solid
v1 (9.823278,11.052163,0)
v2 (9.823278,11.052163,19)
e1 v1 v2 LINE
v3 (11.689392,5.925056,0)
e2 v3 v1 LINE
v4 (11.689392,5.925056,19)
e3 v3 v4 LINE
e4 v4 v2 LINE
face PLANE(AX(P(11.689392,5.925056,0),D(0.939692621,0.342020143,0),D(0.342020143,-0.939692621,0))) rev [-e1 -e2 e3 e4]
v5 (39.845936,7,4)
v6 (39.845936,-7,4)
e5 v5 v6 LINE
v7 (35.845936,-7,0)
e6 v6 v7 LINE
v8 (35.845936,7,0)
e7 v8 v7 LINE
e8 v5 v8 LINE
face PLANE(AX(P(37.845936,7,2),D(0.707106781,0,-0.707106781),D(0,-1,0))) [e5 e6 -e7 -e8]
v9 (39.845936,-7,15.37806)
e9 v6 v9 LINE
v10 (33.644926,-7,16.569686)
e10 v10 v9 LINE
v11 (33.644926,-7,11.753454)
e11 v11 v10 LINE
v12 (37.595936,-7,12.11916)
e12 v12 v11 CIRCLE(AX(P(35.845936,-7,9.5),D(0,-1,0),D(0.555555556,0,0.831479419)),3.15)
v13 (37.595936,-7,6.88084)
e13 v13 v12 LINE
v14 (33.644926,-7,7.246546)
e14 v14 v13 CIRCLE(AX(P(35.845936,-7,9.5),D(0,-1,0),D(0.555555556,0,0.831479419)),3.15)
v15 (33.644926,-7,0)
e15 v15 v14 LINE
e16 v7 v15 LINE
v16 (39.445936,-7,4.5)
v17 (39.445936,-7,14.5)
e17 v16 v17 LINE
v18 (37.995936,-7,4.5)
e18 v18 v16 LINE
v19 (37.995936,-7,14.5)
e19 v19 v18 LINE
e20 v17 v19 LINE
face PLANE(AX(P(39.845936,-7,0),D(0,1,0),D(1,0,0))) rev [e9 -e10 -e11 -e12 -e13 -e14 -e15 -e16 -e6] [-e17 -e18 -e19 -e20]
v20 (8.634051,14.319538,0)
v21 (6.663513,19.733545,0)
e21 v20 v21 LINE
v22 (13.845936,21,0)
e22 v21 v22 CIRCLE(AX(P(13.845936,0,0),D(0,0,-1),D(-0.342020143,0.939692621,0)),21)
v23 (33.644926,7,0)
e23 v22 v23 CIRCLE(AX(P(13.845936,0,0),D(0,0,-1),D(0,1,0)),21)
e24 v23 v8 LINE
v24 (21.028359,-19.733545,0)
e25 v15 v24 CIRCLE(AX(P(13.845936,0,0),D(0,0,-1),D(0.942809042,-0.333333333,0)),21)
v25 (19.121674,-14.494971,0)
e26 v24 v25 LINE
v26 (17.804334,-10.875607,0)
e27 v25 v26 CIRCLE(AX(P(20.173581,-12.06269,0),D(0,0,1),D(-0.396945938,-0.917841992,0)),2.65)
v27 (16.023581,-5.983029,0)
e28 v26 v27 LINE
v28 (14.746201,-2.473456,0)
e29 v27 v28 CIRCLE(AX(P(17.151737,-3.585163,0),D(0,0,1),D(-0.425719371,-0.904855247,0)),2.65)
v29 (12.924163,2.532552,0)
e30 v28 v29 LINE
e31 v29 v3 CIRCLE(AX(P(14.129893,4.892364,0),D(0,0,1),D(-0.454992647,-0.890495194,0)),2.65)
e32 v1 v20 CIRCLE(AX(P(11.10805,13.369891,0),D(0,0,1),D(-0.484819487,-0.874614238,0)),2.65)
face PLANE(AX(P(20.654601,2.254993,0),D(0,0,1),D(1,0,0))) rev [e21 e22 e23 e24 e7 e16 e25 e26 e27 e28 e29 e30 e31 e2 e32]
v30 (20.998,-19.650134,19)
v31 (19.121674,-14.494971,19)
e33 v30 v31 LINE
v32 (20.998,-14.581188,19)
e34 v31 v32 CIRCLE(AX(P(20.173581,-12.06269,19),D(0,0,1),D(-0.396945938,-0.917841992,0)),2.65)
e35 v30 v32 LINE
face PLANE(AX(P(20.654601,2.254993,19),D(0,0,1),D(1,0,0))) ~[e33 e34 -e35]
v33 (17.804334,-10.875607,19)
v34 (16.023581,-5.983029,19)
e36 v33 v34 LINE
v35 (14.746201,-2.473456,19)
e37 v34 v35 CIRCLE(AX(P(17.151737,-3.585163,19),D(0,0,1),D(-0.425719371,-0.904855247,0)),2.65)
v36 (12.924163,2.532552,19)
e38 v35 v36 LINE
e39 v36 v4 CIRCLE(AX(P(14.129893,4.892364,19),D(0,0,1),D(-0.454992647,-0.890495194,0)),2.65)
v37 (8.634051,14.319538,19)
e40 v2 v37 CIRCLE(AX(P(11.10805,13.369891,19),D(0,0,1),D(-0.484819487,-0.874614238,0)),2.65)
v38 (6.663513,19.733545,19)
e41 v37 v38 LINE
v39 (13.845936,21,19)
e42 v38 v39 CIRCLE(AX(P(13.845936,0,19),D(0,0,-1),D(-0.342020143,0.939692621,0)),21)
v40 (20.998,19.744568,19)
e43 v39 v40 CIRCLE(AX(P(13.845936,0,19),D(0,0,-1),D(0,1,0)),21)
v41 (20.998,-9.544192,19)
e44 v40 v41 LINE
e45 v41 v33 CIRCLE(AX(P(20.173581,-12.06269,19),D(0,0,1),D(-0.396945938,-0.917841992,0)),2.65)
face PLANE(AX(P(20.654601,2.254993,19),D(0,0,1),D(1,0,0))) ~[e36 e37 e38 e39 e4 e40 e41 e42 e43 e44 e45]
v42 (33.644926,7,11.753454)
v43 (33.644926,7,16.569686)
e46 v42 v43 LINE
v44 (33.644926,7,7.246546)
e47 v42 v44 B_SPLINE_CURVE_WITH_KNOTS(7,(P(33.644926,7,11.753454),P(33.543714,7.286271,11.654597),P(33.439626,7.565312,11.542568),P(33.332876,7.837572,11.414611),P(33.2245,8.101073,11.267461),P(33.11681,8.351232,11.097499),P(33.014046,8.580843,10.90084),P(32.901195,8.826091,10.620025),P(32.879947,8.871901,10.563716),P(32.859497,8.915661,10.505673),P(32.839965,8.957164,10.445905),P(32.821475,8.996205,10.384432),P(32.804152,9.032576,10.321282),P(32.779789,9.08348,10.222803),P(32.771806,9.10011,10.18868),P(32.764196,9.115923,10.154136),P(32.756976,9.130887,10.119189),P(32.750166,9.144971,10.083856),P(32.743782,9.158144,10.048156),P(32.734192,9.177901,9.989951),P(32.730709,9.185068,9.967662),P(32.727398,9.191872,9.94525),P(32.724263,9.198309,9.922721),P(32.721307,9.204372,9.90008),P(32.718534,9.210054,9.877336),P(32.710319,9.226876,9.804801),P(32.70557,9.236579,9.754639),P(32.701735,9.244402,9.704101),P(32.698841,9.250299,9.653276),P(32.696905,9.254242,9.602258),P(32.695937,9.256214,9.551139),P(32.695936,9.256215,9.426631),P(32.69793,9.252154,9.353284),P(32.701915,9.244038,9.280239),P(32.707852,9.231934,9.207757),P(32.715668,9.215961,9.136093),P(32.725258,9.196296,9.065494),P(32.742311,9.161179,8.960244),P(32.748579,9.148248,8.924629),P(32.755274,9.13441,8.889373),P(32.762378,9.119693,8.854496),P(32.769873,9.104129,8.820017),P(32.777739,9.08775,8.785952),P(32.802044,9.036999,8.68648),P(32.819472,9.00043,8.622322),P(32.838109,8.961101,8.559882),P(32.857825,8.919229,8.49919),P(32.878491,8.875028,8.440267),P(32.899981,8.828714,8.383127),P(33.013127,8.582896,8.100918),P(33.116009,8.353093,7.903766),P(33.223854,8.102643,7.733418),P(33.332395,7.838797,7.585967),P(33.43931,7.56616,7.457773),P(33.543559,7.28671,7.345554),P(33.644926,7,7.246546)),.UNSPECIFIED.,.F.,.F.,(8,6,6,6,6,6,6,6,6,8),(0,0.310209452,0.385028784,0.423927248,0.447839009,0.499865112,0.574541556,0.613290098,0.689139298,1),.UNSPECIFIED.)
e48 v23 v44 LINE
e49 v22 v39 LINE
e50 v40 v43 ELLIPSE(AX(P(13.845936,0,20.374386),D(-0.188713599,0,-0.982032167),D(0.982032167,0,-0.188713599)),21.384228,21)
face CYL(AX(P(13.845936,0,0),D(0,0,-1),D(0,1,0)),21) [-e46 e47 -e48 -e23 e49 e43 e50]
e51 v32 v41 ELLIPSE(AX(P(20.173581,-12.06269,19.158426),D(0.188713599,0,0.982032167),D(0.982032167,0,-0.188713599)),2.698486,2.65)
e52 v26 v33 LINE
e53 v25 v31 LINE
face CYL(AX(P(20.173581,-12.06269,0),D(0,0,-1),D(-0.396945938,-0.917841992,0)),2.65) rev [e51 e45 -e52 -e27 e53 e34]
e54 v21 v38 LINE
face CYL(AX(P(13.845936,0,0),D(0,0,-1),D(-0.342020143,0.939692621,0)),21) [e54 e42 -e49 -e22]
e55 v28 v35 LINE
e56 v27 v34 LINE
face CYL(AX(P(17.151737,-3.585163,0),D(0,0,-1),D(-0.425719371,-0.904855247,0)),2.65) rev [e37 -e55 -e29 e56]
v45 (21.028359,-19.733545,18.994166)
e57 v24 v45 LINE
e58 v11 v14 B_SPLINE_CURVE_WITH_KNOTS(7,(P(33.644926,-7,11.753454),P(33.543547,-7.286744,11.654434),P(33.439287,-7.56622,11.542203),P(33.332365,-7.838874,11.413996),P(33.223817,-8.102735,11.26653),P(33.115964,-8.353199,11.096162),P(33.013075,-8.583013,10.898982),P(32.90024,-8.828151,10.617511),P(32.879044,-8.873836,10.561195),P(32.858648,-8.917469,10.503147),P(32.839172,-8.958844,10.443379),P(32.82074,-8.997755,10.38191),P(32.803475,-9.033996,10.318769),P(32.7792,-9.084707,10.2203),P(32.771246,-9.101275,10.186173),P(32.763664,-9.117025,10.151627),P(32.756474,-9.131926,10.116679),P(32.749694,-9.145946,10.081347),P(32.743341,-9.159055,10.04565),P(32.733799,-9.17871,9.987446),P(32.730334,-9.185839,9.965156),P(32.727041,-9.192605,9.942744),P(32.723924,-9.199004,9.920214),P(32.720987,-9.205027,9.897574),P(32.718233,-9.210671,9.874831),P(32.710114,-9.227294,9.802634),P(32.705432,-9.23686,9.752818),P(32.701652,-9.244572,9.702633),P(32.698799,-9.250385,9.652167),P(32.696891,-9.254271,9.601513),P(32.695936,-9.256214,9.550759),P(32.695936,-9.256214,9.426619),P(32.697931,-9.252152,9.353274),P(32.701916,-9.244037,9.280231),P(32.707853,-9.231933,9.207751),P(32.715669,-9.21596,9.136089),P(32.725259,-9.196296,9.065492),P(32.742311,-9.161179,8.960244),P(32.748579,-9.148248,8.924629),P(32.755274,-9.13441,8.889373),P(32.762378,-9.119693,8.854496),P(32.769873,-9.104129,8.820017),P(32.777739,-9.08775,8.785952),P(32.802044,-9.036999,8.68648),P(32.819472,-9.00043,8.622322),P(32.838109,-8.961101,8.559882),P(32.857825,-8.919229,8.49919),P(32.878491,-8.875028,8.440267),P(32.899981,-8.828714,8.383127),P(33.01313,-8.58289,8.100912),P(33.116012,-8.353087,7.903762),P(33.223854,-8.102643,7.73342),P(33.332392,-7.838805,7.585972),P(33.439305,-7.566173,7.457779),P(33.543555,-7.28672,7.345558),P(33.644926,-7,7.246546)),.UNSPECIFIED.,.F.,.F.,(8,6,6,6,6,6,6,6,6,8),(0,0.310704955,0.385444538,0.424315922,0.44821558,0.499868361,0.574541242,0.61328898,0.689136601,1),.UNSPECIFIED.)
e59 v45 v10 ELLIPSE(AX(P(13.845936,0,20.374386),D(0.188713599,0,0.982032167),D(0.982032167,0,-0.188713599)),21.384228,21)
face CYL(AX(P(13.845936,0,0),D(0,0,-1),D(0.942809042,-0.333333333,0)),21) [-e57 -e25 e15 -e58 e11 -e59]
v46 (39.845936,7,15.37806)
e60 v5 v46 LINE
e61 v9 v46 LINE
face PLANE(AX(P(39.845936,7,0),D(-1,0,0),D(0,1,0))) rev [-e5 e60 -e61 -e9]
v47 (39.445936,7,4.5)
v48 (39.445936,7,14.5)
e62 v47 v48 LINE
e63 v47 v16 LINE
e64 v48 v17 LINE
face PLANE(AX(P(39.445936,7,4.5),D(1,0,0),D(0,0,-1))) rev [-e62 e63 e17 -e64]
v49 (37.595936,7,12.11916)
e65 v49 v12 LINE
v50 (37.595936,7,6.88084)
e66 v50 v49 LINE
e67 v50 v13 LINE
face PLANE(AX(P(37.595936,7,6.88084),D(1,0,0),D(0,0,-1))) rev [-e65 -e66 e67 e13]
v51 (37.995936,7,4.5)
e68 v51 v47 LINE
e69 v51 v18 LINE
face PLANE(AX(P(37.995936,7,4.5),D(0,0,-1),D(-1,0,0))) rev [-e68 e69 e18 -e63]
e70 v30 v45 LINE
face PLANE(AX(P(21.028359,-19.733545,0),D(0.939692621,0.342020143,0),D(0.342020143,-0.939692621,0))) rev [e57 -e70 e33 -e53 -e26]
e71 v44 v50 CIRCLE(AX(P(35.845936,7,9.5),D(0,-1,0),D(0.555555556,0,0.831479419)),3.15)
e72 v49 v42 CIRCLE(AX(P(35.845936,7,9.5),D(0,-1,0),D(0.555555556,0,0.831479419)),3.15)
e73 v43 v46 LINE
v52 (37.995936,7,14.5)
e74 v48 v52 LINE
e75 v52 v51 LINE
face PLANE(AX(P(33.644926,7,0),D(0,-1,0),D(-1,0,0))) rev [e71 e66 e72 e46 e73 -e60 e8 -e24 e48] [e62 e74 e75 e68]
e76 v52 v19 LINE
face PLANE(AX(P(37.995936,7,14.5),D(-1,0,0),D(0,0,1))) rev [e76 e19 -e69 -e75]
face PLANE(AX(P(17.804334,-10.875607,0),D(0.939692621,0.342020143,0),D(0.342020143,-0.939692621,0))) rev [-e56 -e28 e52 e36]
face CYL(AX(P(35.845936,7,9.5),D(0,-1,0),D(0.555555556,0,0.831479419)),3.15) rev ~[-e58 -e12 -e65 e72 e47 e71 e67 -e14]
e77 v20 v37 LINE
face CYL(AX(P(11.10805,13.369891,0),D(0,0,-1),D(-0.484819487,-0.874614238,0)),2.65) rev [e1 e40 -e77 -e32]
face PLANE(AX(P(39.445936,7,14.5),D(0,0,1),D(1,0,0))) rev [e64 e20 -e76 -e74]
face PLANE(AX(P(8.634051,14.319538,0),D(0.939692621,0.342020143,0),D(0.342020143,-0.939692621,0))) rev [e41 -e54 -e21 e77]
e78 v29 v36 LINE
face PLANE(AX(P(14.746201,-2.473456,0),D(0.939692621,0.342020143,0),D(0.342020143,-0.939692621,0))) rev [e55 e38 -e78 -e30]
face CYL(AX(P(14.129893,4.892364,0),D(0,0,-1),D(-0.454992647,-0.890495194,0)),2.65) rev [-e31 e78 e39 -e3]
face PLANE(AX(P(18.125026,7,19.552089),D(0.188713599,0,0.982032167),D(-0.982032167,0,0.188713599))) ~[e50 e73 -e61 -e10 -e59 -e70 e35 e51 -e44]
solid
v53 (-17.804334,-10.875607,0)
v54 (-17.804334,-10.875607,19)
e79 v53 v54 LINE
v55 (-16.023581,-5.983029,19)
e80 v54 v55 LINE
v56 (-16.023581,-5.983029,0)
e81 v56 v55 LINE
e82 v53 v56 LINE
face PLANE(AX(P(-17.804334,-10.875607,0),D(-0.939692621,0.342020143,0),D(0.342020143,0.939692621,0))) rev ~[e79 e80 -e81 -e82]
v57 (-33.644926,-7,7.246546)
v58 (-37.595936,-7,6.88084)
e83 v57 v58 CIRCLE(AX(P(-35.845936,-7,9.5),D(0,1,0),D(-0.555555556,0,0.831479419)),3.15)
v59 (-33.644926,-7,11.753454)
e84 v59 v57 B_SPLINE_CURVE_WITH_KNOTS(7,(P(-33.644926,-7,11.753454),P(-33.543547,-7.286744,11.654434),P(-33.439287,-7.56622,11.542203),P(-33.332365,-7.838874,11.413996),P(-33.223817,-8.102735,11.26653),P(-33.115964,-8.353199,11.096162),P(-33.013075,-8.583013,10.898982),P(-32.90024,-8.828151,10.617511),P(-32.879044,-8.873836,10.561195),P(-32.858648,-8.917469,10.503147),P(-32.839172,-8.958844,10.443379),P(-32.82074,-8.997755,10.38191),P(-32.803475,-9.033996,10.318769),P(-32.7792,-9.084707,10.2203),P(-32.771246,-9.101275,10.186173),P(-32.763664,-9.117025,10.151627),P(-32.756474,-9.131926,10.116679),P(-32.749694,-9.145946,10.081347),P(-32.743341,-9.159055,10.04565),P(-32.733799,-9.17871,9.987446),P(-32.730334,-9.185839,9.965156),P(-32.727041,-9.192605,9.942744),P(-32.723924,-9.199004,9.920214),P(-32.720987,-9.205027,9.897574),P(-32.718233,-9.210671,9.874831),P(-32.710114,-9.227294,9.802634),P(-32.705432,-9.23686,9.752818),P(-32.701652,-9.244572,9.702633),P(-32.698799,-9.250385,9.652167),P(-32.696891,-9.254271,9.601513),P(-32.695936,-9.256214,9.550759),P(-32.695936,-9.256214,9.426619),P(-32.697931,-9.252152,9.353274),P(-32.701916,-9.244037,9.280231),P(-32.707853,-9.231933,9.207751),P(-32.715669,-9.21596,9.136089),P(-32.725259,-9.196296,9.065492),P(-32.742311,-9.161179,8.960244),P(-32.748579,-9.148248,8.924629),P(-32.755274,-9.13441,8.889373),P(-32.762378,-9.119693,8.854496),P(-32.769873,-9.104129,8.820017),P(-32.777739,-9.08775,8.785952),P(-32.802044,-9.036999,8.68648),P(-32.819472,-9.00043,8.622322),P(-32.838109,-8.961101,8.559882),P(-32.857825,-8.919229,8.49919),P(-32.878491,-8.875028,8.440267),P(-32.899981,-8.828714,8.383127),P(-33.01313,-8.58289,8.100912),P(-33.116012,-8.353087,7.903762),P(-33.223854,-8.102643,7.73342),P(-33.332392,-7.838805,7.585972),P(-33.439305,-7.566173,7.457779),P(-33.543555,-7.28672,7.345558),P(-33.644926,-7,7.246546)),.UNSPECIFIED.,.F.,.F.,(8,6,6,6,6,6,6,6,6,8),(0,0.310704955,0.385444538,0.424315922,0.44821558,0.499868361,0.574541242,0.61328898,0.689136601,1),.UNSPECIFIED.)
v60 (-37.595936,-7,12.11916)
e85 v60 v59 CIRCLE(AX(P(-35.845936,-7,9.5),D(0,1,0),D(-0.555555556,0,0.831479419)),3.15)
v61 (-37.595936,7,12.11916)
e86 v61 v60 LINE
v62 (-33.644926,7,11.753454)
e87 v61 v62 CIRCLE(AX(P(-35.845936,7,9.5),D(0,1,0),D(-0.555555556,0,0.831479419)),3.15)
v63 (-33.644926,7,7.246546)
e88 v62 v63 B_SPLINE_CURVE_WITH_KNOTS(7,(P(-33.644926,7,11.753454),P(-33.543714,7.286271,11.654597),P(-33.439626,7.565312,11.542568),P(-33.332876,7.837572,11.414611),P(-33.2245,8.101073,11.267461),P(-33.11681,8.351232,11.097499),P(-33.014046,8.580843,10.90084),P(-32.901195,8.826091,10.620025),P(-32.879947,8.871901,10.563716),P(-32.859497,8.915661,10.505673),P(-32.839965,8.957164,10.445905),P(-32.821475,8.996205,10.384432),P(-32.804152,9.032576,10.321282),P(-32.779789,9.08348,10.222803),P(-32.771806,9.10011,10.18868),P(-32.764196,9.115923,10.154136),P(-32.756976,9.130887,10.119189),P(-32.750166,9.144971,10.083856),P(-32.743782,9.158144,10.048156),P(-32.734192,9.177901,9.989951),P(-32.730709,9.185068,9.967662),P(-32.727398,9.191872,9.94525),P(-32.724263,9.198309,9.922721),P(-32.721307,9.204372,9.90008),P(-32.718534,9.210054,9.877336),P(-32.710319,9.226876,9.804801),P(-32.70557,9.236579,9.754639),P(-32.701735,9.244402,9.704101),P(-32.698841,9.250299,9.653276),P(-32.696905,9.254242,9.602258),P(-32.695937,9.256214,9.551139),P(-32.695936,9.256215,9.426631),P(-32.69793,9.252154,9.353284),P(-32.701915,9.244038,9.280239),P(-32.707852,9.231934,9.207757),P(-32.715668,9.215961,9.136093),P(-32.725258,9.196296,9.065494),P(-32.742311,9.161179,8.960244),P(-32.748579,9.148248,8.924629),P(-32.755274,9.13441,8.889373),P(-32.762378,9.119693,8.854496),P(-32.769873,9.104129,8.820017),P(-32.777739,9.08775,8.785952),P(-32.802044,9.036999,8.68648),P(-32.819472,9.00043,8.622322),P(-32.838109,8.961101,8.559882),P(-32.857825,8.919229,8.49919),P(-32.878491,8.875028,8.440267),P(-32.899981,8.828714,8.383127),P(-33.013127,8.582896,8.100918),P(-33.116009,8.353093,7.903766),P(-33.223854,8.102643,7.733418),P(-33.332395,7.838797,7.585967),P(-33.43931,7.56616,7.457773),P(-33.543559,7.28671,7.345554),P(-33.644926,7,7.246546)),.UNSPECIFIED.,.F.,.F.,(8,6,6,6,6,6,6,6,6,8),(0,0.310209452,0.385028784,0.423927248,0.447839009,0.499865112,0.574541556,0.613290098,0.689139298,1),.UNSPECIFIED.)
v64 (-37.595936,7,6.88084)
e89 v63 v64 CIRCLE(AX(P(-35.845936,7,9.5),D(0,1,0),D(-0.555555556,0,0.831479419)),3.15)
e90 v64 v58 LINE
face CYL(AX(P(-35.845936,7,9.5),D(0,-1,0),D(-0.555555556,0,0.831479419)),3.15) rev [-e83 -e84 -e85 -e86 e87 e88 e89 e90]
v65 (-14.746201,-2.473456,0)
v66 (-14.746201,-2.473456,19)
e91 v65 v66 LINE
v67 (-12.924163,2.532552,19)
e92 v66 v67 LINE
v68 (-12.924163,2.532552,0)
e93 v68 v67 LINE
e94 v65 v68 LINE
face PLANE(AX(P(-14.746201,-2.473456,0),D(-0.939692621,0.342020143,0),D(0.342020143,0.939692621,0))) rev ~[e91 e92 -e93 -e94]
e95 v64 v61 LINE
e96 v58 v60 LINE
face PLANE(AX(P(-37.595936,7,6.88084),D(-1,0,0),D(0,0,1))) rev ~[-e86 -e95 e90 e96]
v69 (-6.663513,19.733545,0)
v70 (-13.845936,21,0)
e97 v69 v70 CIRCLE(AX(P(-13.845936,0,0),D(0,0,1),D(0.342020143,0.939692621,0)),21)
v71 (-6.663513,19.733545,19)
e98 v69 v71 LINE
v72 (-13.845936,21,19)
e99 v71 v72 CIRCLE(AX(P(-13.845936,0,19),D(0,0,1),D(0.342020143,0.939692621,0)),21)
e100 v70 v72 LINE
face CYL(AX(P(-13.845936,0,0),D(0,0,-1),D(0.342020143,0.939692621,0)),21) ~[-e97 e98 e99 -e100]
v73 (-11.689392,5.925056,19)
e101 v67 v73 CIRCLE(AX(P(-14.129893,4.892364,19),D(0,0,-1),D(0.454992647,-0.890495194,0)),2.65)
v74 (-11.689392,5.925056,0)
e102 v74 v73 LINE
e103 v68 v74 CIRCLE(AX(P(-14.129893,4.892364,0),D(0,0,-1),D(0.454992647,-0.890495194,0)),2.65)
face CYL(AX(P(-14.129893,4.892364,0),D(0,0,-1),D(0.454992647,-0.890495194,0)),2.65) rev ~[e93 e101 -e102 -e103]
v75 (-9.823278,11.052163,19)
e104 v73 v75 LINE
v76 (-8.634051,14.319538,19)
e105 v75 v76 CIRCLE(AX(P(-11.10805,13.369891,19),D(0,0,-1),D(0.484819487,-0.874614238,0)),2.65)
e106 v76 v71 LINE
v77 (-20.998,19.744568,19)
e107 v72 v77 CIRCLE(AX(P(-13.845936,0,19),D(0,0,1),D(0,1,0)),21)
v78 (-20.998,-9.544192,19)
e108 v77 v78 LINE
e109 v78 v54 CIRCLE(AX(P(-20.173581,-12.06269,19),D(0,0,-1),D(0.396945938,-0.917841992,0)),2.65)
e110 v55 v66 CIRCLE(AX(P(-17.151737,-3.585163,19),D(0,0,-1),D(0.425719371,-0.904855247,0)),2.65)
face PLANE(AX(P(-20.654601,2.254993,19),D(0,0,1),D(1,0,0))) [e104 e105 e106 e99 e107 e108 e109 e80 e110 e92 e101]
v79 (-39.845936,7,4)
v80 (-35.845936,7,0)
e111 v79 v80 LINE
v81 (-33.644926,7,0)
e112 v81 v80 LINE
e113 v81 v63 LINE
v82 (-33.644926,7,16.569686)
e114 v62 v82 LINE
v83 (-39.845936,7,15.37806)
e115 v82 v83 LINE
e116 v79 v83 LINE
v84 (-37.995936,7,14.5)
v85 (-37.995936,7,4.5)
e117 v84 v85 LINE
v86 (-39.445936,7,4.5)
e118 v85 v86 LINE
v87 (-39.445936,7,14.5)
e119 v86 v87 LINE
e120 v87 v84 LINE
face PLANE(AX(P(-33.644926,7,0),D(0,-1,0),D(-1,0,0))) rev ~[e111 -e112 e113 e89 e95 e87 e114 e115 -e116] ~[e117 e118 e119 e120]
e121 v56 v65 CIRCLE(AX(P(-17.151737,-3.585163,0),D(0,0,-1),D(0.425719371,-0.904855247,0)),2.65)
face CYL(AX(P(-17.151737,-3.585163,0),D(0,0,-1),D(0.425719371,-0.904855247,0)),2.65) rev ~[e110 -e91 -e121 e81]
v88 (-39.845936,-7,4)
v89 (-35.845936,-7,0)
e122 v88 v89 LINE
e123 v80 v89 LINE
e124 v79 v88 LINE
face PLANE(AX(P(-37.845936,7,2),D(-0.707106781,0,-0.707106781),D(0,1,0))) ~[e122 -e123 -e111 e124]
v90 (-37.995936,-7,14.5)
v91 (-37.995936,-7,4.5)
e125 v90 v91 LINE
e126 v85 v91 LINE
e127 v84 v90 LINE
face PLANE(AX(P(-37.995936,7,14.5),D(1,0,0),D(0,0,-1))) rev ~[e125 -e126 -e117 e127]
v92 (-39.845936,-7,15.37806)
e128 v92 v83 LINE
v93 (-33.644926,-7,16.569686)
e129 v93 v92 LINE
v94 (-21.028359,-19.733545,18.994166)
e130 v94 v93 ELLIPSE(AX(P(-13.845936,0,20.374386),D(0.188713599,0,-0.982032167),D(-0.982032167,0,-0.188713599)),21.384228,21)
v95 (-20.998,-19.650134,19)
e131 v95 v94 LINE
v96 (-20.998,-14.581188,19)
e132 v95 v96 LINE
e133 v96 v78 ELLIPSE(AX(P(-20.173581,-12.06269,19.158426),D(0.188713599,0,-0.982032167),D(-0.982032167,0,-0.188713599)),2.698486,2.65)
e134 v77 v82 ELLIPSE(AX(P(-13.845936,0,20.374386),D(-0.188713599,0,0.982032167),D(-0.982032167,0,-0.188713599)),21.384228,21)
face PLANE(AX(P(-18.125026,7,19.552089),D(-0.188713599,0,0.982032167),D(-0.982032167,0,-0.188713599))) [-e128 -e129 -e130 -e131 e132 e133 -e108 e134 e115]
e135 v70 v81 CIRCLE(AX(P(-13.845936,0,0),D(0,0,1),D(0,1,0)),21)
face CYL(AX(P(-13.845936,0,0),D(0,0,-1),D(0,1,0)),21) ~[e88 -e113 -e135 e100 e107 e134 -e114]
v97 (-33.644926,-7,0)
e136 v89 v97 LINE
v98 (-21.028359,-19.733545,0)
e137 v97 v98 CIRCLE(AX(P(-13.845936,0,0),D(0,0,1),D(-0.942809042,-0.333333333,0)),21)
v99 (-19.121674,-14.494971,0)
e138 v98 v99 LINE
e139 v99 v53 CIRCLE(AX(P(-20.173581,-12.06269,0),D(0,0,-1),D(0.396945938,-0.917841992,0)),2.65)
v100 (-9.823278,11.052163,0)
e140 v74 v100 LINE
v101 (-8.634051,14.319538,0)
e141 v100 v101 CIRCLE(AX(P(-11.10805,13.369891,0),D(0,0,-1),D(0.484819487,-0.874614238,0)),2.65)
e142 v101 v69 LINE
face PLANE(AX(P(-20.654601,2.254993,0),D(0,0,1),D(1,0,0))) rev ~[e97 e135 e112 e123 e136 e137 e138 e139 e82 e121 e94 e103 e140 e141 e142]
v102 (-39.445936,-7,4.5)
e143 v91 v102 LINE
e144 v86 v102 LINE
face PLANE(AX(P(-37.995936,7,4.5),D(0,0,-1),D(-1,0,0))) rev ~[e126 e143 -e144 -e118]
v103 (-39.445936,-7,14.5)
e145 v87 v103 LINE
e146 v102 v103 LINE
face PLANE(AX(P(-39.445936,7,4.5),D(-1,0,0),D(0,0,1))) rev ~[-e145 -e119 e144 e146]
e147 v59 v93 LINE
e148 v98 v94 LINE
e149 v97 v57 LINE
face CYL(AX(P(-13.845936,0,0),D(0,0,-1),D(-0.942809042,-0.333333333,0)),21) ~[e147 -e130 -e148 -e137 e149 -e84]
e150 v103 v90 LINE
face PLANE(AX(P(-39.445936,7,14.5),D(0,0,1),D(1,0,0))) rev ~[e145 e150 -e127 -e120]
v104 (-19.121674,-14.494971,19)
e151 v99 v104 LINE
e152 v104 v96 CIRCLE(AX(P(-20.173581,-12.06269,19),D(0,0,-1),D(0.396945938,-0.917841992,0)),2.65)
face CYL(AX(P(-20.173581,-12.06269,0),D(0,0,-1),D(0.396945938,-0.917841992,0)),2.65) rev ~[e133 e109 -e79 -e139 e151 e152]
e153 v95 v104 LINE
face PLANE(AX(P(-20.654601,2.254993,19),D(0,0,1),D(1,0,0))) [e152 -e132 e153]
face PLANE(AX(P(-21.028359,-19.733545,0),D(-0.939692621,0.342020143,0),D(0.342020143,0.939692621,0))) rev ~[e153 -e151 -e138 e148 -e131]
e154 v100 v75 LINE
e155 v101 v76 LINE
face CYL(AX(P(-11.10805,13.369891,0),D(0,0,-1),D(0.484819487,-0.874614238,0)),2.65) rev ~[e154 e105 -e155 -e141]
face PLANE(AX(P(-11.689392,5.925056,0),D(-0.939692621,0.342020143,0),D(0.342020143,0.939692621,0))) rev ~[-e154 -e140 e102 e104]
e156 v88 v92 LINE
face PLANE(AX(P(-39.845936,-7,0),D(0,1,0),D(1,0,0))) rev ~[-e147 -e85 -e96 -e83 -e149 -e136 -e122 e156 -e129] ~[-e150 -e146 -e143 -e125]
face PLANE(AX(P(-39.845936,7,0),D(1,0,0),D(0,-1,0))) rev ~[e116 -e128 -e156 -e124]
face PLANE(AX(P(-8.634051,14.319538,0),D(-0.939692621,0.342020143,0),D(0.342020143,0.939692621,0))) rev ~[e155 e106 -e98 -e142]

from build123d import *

# Parameters (mm, degrees)
F1_DEPTH      = 19
F3_DEPTH      = 26.7345450365
F3_DEPTH_BACK = 14.001
F4_SIZE       = 4


with BuildPart() as f1:
    # F0 (on Top) → F1 (new body)
    with BuildSketch(Plane.XY):
        with BuildLine():
            ThreePointArc((-6.6635133854, 19.7335450365), (-10.1993246642, 20.6809628133), (-13.8459363952, 21))
            ThreePointArc((-13.8459363952, 21), (-25.9702920482, 17.1464281995), (-33.6449262685, 7))
            Line((-33.6449262685, 7), (-26.1928457767, 7))
            Line((-26.1928457767, 7), (-26.1928457767, -7))
            Line((-26.1928457767, -7), (-33.6449262685, -7))
            ThreePointArc((-33.6449262685, -7), (-28.7635418529, -14.7805631628), (-21.0283594051, -19.7335450365))
            Line((-21.0283594051, -19.7335450365), (-19.1216743535, -14.4949709112))
            ThreePointArc((-19.1216743535, -14.4949709112), (-22.6637665335, -11.1563362522), (-17.8043335099, -10.8756066898))
            Line((-17.8043335099, -10.8756066898), (-16.0235809599, -5.9830292689))
            ThreePointArc((-16.0235809599, -5.9830292689), (-19.641922738, -2.6788094858), (-14.7462005893, -2.4734555447))
            Line((-14.7462005893, -2.4734555447), (-12.9241629831, 2.5325516357))
            ThreePointArc((-12.9241629831, 2.5325516357), (-16.6200789425, 5.7987172806), (-11.6893922518, 5.9250563382))
            Line((-11.6893922518, 5.9250563382), (-9.823278062, 11.0521629366))
            ThreePointArc((-9.823278062, 11.0521629366), (-13.598235147, 14.2762440471), (-8.6340508586, 14.3195378246))
            Line((-8.6340508586, 14.3195378246), (-6.6635133854, 19.7335450365))
        make_face()
        with BuildLine():
            Line((-26.1928457767, 7), (-33.6449262685, 7))
            ThreePointArc((-33.6449262685, 7), (-34.8459363952, 0), (-33.6449262685, -7))
            Line((-33.6449262685, -7), (-26.1928457767, -7))
            Line((-26.1928457767, -7), (-26.1928457767, 7))
        make_face()
        with BuildLine():
            ThreePointArc((-33.6449262685, -7), (-34.8459363952, 0), (-33.6449262685, 7))
            Line((-33.6449262685, 7), (-39.8459363952, 7))
            Line((-39.8459363952, 7), (-39.8459363952, -7))
            Line((-39.8459363952, -7), (-33.6449262685, -7))
        make_face()
    extrude(amount=F1_DEPTH)

    # F2 (on face) → F3 (cut, two sides)
    with BuildSketch(Plane(origin=(0, 7, 0), x_dir=(-1, 0, 0), z_dir=(0, 1, 0))) as f3_sk:
        with BuildLine():
            Line((37.5959363952, 6.8808398293), (37.5959363952, 12.1191601707))
            ThreePointArc((37.5959363952, 12.1191601707), (32.6959363952, 9.5), (37.5959363952, 6.8808398293))
        make_face()
        Polygon((37.9959363952, 4.5), (39.4459363952, 4.5), (39.4459363952, 14.5), (37.9959363952, 14.5), (37.9959363952, 13.8318650424), (37.9959363952, 11.8021728866), (37.9959363952, 7.1978271134), (37.9959363952, 5.8489135567), align=None)
        Polygon((18.1250255555, 19.5520892739), (40.7956875861, 15.1955494657), (40.7956875861, 19.5520892739), align=None)
    extrude(amount=-F3_DEPTH, mode=Mode.SUBTRACT)
    extrude(f3_sk.sketch, amount=F3_DEPTH_BACK, mode=Mode.SUBTRACT)

    # F4
    f4_edges = [f1.edges().sort_by_distance(p)[0] for p in [
        (-39.845936, 0, 0),
    ]]
    chamfer(f4_edges, length=F4_SIZE)


with BuildPart() as f5_1:
    # F5: instance of F1
    add(f1.part.mirror(Plane.YZ))


solid = Compound([f1.part, f5_1.part])
